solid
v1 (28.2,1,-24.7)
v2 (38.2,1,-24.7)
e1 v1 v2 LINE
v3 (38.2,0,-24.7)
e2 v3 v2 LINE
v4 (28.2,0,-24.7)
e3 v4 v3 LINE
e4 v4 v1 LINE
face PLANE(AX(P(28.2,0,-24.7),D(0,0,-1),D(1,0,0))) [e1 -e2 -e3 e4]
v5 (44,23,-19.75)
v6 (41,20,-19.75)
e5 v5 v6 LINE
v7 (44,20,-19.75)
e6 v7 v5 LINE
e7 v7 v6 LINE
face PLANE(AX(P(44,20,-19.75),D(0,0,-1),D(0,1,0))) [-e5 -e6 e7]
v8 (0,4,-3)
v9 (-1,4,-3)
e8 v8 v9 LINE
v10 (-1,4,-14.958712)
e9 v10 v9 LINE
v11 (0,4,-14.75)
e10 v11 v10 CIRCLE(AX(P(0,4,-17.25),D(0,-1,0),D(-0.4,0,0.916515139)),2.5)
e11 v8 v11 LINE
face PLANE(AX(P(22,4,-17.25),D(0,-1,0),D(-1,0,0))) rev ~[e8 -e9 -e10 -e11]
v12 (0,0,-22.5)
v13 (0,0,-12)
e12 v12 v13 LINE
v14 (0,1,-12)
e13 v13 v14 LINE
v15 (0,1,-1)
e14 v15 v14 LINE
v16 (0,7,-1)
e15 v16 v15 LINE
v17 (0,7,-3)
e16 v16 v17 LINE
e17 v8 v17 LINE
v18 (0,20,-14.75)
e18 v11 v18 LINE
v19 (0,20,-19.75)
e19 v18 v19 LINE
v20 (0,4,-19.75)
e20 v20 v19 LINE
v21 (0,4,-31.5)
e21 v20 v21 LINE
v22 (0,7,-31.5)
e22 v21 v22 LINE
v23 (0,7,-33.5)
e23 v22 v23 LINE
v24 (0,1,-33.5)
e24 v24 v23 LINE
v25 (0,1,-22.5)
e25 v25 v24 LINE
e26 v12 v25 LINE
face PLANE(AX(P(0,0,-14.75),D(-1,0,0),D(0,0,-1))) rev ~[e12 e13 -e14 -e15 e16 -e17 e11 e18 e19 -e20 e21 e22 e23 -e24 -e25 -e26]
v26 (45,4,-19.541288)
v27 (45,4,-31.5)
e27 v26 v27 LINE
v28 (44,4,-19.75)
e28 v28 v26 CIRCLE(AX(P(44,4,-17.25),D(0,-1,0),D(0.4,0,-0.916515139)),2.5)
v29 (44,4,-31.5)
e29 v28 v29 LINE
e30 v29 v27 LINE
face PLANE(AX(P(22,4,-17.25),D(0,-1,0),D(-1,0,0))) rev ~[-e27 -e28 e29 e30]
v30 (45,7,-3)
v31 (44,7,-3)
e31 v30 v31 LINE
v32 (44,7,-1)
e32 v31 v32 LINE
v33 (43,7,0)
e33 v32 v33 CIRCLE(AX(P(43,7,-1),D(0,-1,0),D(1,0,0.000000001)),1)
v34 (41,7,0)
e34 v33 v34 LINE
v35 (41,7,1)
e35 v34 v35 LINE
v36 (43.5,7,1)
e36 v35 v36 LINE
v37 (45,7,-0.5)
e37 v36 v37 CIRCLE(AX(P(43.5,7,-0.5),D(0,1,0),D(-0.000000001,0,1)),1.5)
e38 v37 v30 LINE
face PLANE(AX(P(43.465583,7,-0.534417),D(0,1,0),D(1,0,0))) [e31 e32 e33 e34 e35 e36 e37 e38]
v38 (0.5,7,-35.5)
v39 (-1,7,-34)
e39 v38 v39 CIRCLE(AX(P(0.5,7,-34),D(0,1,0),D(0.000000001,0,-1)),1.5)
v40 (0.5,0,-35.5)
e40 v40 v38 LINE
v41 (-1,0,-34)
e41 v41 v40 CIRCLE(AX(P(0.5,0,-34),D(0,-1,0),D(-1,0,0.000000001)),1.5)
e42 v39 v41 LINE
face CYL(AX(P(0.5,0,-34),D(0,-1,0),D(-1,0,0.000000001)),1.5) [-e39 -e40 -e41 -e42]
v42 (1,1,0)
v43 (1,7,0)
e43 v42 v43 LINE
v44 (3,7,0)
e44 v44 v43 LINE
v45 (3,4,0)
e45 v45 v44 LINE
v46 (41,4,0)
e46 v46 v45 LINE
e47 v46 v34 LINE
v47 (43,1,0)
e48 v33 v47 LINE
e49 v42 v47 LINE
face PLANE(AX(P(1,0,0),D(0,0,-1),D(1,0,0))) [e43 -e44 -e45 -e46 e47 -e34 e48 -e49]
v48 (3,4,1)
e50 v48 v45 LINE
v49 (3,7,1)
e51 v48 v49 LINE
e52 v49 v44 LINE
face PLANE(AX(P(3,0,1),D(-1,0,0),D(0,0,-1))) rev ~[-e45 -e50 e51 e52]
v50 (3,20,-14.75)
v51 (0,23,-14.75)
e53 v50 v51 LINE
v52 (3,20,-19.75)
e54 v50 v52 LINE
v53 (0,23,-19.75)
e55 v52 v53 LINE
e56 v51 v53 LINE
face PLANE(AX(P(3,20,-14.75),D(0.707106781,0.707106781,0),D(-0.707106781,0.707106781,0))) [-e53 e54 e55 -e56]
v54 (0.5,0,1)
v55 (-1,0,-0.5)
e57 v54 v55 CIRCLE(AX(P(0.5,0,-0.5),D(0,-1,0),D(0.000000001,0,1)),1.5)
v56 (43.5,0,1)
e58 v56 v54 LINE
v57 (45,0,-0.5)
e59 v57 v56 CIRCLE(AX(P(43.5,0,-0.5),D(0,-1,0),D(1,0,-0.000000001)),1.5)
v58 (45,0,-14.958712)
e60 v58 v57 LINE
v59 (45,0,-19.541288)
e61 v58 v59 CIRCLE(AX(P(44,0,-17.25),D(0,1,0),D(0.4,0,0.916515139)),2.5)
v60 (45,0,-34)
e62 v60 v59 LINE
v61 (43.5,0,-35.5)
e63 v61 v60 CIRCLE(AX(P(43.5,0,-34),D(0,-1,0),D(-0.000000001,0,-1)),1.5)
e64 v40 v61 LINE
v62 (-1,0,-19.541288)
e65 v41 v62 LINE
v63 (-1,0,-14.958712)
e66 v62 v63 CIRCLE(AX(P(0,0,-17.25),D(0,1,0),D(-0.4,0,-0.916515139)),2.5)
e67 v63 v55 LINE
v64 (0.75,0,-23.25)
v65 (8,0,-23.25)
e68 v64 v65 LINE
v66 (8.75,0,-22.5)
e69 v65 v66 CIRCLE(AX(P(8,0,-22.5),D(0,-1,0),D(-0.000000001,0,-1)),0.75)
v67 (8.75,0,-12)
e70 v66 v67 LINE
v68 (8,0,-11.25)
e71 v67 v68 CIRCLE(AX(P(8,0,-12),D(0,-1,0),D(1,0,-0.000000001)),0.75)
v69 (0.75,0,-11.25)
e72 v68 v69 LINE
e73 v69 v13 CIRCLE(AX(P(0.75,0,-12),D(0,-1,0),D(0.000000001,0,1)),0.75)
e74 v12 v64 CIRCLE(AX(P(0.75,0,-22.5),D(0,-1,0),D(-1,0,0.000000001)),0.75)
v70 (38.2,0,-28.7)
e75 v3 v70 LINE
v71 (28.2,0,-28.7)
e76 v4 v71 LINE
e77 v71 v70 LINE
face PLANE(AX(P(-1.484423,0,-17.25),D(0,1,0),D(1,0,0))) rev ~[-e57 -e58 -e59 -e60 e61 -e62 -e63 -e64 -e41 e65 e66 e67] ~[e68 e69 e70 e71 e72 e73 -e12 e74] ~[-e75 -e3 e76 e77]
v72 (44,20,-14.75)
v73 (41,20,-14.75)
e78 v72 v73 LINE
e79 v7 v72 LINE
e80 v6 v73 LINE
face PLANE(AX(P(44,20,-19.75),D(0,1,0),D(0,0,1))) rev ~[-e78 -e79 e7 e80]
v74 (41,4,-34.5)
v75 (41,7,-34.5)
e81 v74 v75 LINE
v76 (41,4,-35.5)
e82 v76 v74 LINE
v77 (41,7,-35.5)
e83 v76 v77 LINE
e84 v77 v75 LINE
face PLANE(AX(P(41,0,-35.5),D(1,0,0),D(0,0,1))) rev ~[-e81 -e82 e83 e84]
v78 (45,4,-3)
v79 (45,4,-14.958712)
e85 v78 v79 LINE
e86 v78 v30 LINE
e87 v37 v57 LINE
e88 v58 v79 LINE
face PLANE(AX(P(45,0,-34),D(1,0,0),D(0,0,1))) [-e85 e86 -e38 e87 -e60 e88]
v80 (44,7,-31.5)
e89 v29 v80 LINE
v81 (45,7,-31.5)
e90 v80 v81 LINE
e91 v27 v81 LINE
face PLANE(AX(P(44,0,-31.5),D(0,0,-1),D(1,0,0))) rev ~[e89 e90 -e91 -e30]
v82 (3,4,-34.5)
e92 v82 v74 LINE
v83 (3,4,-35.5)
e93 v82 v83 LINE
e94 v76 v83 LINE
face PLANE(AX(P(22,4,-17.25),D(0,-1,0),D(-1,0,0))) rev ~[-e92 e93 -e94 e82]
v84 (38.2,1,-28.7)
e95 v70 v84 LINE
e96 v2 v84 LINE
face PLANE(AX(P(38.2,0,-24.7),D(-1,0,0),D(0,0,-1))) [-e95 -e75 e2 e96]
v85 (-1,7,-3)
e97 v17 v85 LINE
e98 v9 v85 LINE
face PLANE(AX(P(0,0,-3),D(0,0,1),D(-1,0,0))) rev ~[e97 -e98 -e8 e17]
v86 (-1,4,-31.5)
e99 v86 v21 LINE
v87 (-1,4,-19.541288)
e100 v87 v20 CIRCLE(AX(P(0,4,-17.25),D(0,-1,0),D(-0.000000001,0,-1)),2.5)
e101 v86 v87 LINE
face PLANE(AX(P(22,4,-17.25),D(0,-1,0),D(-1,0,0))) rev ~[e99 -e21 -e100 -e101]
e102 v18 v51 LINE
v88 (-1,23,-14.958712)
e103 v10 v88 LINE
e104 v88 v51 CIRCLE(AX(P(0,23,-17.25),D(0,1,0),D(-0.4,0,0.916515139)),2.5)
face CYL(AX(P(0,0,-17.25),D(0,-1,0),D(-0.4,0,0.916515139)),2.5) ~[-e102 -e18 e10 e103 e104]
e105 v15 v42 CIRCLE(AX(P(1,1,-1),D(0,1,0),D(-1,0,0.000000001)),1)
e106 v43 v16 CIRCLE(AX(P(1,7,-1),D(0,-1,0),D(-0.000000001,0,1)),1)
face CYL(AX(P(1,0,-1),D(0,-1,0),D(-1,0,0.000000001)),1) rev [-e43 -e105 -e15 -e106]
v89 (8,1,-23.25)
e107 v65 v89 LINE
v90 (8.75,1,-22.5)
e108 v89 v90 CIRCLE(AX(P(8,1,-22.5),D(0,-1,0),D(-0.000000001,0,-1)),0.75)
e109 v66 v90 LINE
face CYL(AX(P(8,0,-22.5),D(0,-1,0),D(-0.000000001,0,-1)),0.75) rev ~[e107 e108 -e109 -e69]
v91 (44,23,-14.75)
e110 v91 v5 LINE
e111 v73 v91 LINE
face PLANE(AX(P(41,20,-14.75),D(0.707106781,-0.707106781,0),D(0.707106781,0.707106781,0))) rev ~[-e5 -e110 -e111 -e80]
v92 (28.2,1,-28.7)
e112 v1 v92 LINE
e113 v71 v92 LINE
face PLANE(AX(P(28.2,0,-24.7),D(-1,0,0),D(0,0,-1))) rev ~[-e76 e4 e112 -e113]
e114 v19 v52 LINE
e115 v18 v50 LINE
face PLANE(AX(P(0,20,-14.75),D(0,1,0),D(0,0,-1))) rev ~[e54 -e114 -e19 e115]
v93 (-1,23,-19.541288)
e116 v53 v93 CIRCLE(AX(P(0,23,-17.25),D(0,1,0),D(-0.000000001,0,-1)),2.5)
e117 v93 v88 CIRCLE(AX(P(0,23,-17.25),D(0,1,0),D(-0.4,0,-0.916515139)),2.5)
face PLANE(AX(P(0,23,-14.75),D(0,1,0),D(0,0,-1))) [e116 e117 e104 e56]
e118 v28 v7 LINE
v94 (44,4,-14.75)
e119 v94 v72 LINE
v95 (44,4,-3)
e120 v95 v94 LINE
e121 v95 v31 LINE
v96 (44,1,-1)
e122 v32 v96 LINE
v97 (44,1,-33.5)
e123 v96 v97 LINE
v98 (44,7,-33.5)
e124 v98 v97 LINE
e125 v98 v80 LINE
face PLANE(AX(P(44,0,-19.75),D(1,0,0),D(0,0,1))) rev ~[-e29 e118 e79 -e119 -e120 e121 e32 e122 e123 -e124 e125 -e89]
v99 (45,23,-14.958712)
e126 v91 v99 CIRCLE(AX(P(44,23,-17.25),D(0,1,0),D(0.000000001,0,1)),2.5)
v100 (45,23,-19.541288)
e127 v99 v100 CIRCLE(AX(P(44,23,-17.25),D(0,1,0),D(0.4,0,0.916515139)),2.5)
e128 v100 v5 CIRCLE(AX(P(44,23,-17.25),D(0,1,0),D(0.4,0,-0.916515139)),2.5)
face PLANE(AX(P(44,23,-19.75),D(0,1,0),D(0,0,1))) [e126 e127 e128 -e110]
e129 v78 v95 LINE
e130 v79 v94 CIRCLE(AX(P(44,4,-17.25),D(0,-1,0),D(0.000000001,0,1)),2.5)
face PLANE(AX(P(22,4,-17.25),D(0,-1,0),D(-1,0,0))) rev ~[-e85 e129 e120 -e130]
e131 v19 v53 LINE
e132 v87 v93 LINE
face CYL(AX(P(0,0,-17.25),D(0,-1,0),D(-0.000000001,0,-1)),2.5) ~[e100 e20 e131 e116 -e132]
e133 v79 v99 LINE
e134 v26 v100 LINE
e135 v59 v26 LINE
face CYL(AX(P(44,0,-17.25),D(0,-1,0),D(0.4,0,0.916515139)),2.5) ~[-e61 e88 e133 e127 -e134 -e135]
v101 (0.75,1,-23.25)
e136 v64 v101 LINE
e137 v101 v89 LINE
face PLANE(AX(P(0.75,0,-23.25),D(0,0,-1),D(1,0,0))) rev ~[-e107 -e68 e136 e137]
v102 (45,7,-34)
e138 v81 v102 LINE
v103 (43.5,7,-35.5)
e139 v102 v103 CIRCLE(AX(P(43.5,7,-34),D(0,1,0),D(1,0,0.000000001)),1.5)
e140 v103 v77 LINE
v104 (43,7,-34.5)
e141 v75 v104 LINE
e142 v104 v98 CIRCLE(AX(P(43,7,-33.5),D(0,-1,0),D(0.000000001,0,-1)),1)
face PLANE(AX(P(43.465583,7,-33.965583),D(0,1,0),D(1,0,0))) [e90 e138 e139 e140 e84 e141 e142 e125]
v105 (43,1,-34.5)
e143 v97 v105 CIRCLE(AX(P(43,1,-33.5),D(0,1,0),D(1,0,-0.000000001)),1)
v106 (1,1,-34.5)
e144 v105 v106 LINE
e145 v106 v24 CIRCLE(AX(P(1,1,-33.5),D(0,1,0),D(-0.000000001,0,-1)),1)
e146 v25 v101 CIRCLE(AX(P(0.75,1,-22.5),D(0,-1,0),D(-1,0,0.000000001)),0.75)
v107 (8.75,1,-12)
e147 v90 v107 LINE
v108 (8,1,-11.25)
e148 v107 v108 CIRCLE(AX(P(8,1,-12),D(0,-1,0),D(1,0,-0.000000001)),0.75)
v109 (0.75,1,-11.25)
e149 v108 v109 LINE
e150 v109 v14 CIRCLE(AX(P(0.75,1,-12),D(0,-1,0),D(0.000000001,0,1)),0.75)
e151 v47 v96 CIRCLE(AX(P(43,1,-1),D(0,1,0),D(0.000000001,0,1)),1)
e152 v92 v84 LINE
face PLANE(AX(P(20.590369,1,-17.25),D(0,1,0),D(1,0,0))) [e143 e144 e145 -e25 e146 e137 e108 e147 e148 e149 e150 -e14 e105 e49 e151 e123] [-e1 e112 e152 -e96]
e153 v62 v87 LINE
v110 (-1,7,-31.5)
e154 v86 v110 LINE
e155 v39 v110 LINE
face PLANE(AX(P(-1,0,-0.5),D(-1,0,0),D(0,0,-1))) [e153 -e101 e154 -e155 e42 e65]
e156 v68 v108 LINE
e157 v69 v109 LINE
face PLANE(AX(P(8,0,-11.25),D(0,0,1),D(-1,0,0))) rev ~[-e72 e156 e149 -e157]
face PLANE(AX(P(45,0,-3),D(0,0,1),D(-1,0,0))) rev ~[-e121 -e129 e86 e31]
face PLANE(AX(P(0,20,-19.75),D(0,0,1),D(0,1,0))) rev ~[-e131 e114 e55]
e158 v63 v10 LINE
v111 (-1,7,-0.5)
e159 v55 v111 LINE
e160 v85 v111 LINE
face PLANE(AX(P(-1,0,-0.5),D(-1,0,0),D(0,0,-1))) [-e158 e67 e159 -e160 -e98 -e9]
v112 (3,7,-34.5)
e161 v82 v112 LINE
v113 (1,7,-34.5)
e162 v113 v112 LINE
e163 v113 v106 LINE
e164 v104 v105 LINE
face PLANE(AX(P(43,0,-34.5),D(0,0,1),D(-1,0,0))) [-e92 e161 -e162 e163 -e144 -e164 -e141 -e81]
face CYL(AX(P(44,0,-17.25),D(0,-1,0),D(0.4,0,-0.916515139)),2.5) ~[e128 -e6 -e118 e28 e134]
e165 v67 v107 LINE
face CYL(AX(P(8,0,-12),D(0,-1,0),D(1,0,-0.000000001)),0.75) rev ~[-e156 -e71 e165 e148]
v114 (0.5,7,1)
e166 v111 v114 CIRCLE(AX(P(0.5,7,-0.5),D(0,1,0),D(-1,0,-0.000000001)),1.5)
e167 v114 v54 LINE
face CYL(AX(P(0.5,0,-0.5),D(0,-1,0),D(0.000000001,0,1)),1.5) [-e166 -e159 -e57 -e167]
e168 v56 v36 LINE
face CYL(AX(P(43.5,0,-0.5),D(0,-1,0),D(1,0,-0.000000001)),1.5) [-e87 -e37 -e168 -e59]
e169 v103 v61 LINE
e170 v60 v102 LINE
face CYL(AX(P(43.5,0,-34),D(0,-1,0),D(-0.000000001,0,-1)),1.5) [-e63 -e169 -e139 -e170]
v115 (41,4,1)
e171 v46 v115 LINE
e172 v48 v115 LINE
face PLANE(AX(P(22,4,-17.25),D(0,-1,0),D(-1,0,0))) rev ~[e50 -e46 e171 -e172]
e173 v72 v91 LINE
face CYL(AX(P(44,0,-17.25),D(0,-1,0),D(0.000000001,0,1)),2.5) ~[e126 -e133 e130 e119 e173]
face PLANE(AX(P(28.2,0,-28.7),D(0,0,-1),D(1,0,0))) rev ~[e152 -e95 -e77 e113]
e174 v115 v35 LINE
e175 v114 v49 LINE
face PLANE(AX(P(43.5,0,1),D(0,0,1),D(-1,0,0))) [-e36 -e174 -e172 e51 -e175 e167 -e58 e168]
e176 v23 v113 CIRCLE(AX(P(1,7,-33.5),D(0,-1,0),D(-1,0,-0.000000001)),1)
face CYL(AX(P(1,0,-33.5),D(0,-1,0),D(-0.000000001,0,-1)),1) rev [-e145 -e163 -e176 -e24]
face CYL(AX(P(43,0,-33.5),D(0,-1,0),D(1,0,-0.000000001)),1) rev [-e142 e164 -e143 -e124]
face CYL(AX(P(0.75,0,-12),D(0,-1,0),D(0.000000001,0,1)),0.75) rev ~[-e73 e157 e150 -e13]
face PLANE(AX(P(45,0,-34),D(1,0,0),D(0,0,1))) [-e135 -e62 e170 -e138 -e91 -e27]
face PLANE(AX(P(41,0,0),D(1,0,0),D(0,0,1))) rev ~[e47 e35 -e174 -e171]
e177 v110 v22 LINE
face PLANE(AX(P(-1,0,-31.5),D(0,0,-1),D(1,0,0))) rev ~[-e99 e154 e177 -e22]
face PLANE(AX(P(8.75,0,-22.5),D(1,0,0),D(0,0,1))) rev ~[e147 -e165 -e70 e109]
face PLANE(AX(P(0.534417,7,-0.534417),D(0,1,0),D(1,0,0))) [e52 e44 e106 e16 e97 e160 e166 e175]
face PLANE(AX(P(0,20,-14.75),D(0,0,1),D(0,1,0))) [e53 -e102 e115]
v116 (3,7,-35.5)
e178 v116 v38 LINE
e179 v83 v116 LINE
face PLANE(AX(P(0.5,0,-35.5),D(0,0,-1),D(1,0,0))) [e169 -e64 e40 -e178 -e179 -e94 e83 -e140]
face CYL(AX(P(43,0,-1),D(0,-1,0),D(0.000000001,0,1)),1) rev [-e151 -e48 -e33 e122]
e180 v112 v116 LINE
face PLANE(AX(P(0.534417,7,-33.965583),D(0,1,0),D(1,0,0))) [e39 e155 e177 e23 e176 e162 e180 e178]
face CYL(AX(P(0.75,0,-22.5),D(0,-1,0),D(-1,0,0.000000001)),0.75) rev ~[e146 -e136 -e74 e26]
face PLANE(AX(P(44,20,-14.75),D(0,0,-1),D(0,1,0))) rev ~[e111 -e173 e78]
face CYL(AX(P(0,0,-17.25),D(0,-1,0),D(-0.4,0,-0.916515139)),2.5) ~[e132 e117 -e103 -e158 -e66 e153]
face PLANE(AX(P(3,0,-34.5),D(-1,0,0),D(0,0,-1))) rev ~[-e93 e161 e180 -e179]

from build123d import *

# Parameters (mm, degrees)
SKETCH1_W           = 10
SKETCH1_H           = 4
BOSS_EXTRUDE1_DEPTH = 1
SKETCH1_3_W         = 38
SKETCH1_3_H         = 1
BOSS_EXTRUDE2_DEPTH = 4
BOSS_EXTRUDE3_DEPTH = 23
SKETCH2_W           = 5
SKETCH2_H           = 3
BOSS_EXTRUDE4_DEPTH = 3
CUT_EXTRUDE1_DEPTH  = 56.873182297
BOSS_EXTRUDE5_DEPTH = 7
BOSS_EXTRUDE8_DEPTH = 23
SKETCH6_W           = 5
SKETCH6_H           = 3
BOSS_EXTRUDE9_DEPTH = 3
CUT_EXTRUDE3_DEPTH  = 56.873182297


with BuildPart() as part:
    # Sketch1 → Boss-Extrude1 (new body)
    with BuildSketch(Plane(origin=(0, 0, 0), x_dir=(1, 0, 0), z_dir=(0, 1, 0))):
        with BuildLine():
            Line((8.75, 22.5), (8.75, 12))
            ThreePointArc((8.75, 12), (8.530330086, 11.469669914), (8, 11.25))
            Line((8, 11.25), (0.75, 11.25))
            ThreePointArc((0.75, 11.25), (0.219669914, 11.469669914), (0, 12))
            Line((0, 12), (0, 1))
            ThreePointArc((0, 1), (0.292893219, 0.292893219), (1, 0))
            Line((1, 0), (43, 0))
            ThreePointArc((43, 0), (43.707106781, 0.292893219), (44, 1))
            Line((44, 1), (44, 33.5))
            ThreePointArc((44, 33.5), (43.707106781, 34.207106781), (43, 34.5))
            Line((43, 34.5), (1, 34.5))
            ThreePointArc((1, 34.5), (0.292893219, 34.207106781), (0, 33.5))
            Line((0, 33.5), (0, 22.5))
            ThreePointArc((0, 22.5), (0.219669914, 23.030330086), (0.75, 23.25))
            Line((0.75, 23.25), (8, 23.25))
            ThreePointArc((8, 23.25), (8.530330086, 23.030330086), (8.75, 22.5))
        make_face()
        with Locations((33.2, 26.7)):
            Rectangle(SKETCH1_W, SKETCH1_H, mode=Mode.SUBTRACT)
    extrude(amount=BOSS_EXTRUDE1_DEPTH)

    # Sketch1<3> → Boss-Extrude2 (add)
    # profile 1 of 12: a face of its own
    with BuildSketch(Plane(origin=(0, 0, 0), x_dir=(1, 0, 0), z_dir=(0, 1, 0))):
        with BuildLine():
            ThreePointArc((43.5, 35.5), (44.560660172, 35.060660172), (45, 34))
            Line((45, 34), (45, 0.5))
            ThreePointArc((45, 0.5), (44.560660172, -0.560660172), (43.5, -1))
            Line((43.5, -1), (0.5, -1))
            ThreePointArc((0.5, -1), (-0.560660172, -0.560660172), (-1, 0.5))
            Line((-1, 0.5), (-1, 34))
            ThreePointArc((-1, 34), (-0.560660172, 35.060660172), (0.5, 35.5))
            Line((0.5, 35.5), (43.5, 35.5))
        make_face()
        with BuildLine():
            ThreePointArc((1, 34.5), (0.292893219, 34.207106781), (0, 33.5))
            Line((0, 33.5), (0, 24.75))
            Line((0, 24.75), (0, 22.5))
            Line((0, 22.5), (0, 12))
            Line((0, 12), (0, 9.75))
            Line((0, 9.75), (0, 1))
            ThreePointArc((0, 1), (0.292893219, 0.292893219), (1, 0))
            Line((1, 0), (43, 0))
            ThreePointArc((43, 0), (43.707106781, 0.292893219), (44, 1))
            Line((44, 1), (44, 33.5))
            ThreePointArc((44, 33.5), (43.707106781, 34.207106781), (43, 34.5))
            Line((43, 34.5), (1, 34.5))
        make_face(mode=Mode.SUBTRACT)
    # profile 2 of 12: a face of its own
    with BuildSketch(Plane(origin=(0, 0, 0), x_dir=(1, 0, 0), z_dir=(0, 1, 0))):
        with BuildLine():
            Line((3, 0), (1, 0))
            ThreePointArc((1, 0), (0.292893219, 0.292893219), (0, 1))
            Line((0, 1), (0, 3))
            Line((0, 3), (-1, 3))
            Line((-1, 3), (-1, 0.5))
            ThreePointArc((-1, 0.5), (-0.560660172, -0.560660172), (0.5, -1))
            Line((0.5, -1), (3, -1))
            Line((3, -1), (3, 0))
        make_face()
    # profile 3 of 12: a face of its own
    with BuildSketch(Plane(origin=(0, 0, 0), x_dir=(1, 0, 0), z_dir=(0, 1, 0))):
        with Locations((22, -0.5)):
            Rectangle(SKETCH1_3_W, SKETCH1_3_H)
    # profile 4 of 12: a face of its own
    with BuildSketch(Plane(origin=(0, 0, 0), x_dir=(1, 0, 0), z_dir=(0, 1, 0))):
        with BuildLine():
            Line((43, 0), (41, 0))
            Line((41, 0), (41, -1))
            Line((41, -1), (43.5, -1))
            ThreePointArc((43.5, -1), (44.560660172, -0.560660172), (45, 0.5))
            Line((45, 0.5), (45, 3))
            Line((45, 3), (44, 3))
            Line((44, 3), (44, 1))
            ThreePointArc((44, 1), (43.707106781, 0.292893219), (43, 0))
        make_face()
    # profile 5 of 12: a face of its own
    with BuildSketch(Plane(origin=(0, 0, 0), x_dir=(1, 0, 0), z_dir=(0, 1, 0))):
        with BuildLine():
            Line((44, 14.75), (44, 3))
            Line((44, 3), (45, 3))
            Line((45, 3), (45, 14.958712153))
            ThreePointArc((45, 14.958712153), (44.510774109, 14.802734218), (44, 14.75))
        make_face()
    # profile 6 of 12: a face of its own
    with BuildSketch(Plane(origin=(0, 0, 0), x_dir=(1, 0, 0), z_dir=(0, 1, 0))):
        with BuildLine():
            Line((44, 31.5), (44, 19.75))
            ThreePointArc((44, 19.75), (44.510774109, 19.697265782), (45, 19.541287847))
            Line((45, 19.541287847), (45, 31.5))
            Line((45, 31.5), (44, 31.5))
        make_face()
    # profile 7 of 12: a face of its own
    with BuildSketch(Plane(origin=(0, 0, 0), x_dir=(1, 0, 0), z_dir=(0, 1, 0))):
        with BuildLine():
            Line((44, 19.75), (44, 14.75))
            ThreePointArc((44, 14.75), (44.510774109, 14.802734218), (45, 14.958712153))
            Line((45, 14.958712153), (45, 19.541287847))
            ThreePointArc((45, 19.541287847), (44.510774109, 19.697265782), (44, 19.75))
        make_face()
    # profile 8 of 12: a face of its own
    with BuildSketch(Plane(origin=(0, 0, 0), x_dir=(1, 0, 0), z_dir=(0, 1, 0))):
        with BuildLine():
            Line((44, 33.5), (44, 31.5))
            Line((44, 31.5), (45, 31.5))
            Line((45, 31.5), (45, 34))
            ThreePointArc((45, 34), (44.560660172, 35.060660172), (43.5, 35.5))
            Line((43.5, 35.5), (41, 35.5))
            Line((41, 35.5), (41, 34.5))
            Line((41, 34.5), (43, 34.5))
            ThreePointArc((43, 34.5), (43.707106781, 34.207106781), (44, 33.5))
        make_face()
    # profile 9 of 12: a face of its own
    with BuildSketch(Plane(origin=(0, 0, 0), x_dir=(1, 0, 0), z_dir=(0, 1, 0))):
        with Locations((22, 35)):
            Rectangle(SKETCH1_3_W, SKETCH1_3_H)
    # profile 10 of 12: a face of its own
    with BuildSketch(Plane(origin=(0, 0, 0), x_dir=(1, 0, 0), z_dir=(0, 1, 0))):
        with BuildLine():
            Line((-1, 34), (-1, 31.5))
            Line((-1, 31.5), (0, 31.5))
            Line((0, 31.5), (0, 33.5))
            ThreePointArc((0, 33.5), (0.292893219, 34.207106781), (1, 34.5))
            Line((1, 34.5), (3, 34.5))
            Line((3, 34.5), (3, 35.5))
            Line((3, 35.5), (0.5, 35.5))
            ThreePointArc((0.5, 35.5), (-0.560660172, 35.060660172), (-1, 34))
        make_face()
    # profile 11 of 12: a face of its own
    with BuildSketch(Plane(origin=(0, 0, 0), x_dir=(1, 0, 0), z_dir=(0, 1, 0))):
        with BuildLine():
            Line((-1, 3), (0, 3))
            Line((0, 3), (0, 9.75))
            Line((0, 9.75), (0, 12))
            Line((0, 12), (0, 14.75))
            ThreePointArc((0, 14.75), (-0.510774109, 14.802734218), (-1, 14.958712153))
            Line((-1, 14.958712153), (-1, 3))
        make_face()
    # profile 12 of 12: a face of its own
    with BuildSketch(Plane(origin=(0, 0, 0), x_dir=(1, 0, 0), z_dir=(0, 1, 0))):
        with BuildLine():
            Line((-1, 31.5), (-1, 19.541287847))
            ThreePointArc((-1, 19.541287847), (-0.510774109, 19.697265782), (0, 19.75))
            Line((0, 19.75), (0, 22.5))
            Line((0, 22.5), (0, 24.75))
            Line((0, 24.75), (0, 31.5))
            Line((0, 31.5), (-1, 31.5))
        make_face()
    extrude(amount=BOSS_EXTRUDE2_DEPTH)

    # Sketch1<4> → Boss-Extrude3 (add)
    with BuildSketch(Plane(origin=(0, 0, 0), x_dir=(1, 0, 0), z_dir=(0, 1, 0))):
        with BuildLine():
            Line((45, 19.541287847), (45, 14.958712153))
            ThreePointArc((45, 14.958712153), (46.5, 17.25), (45, 19.541287847))
        make_face()
        with BuildLine():
            Line((44, 19.75), (44, 14.75))
            ThreePointArc((44, 14.75), (44.510774109, 14.802734218), (45, 14.958712153))
            Line((45, 14.958712153), (45, 19.541287847))
            ThreePointArc((45, 19.541287847), (44.510774109, 19.697265782), (44, 19.75))
        make_face()
    extrude(amount=BOSS_EXTRUDE3_DEPTH)

    # Sketch2 → Boss-Extrude4 (add)
    with BuildSketch(Plane.ZY.offset(-44)):
        with Locations((-17.25, 21.5)):
            Rectangle(SKETCH2_W, SKETCH2_H)
    extrude(amount=BOSS_EXTRUDE4_DEPTH)

    # Sketch3 → Cut-Extrude1 (cut, through all)
    with BuildSketch(Plane.XY.offset(-14.75)):
        Polygon((41, 20), (44, 23), (41, 23), align=None)
    extrude(amount=-CUT_EXTRUDE1_DEPTH, mode=Mode.SUBTRACT)

    # Sketch1<6> → Boss-Extrude5 (add)
    with BuildSketch(Plane(origin=(0, 0, 0), x_dir=(1, 0, 0), z_dir=(0, 1, 0))):
        with BuildLine():
            Line((-1, 34), (-1, 31.5))
            Line((-1, 31.5), (0, 31.5))
            Line((0, 31.5), (0, 33.5))
            ThreePointArc((0, 33.5), (0.292893219, 34.207106781), (1, 34.5))
            Line((1, 34.5), (3, 34.5))
            Line((3, 34.5), (3, 35.5))
            Line((3, 35.5), (0.5, 35.5))
            ThreePointArc((0.5, 35.5), (-0.560660172, 35.060660172), (-1, 34))
        make_face()
        with BuildLine():
            Line((3, 0), (1, 0))
            ThreePointArc((1, 0), (0.292893219, 0.292893219), (0, 1))
            Line((0, 1), (0, 3))
            Line((0, 3), (-1, 3))
            Line((-1, 3), (-1, 0.5))
            ThreePointArc((-1, 0.5), (-0.560660172, -0.560660172), (0.5, -1))
            Line((0.5, -1), (3, -1))
            Line((3, -1), (3, 0))
        make_face()
        with BuildLine():
            Line((43, 0), (41, 0))
            Line((41, 0), (41, -1))
            Line((41, -1), (43.5, -1))
            ThreePointArc((43.5, -1), (44.560660172, -0.560660172), (45, 0.5))
            Line((45, 0.5), (45, 3))
            Line((45, 3), (44, 3))
            Line((44, 3), (44, 1))
            ThreePointArc((44, 1), (43.707106781, 0.292893219), (43, 0))
        make_face()
        with BuildLine():
            Line((44, 33.5), (44, 31.5))
            Line((44, 31.5), (45, 31.5))
            Line((45, 31.5), (45, 34))
            ThreePointArc((45, 34), (44.560660172, 35.060660172), (43.5, 35.5))
            Line((43.5, 35.5), (41, 35.5))
            Line((41, 35.5), (41, 34.5))
            Line((41, 34.5), (43, 34.5))
            ThreePointArc((43, 34.5), (43.707106781, 34.207106781), (44, 33.5))
        make_face()
    extrude(amount=BOSS_EXTRUDE5_DEPTH)

    # Sketch1<9> → Boss-Extrude8 (add)
    with BuildSketch(Plane(origin=(0, 0, 0), x_dir=(1, 0, 0), z_dir=(0, 1, 0))):
        with BuildLine():
            ThreePointArc((-1, 19.541287847), (-2.5, 17.25), (-1, 14.958712153))
            Line((-1, 14.958712153), (-1, 19.541287847))
        make_face()
        with BuildLine():
            Line((-1, 19.541287847), (-1, 14.958712153))
            ThreePointArc((-1, 14.958712153), (-0.510774109, 14.802734218), (0, 14.75))
            Line((0, 14.75), (0, 19.75))
            ThreePointArc((0, 19.75), (-0.510774109, 19.697265782), (-1, 19.541287847))
        make_face()
    extrude(amount=BOSS_EXTRUDE8_DEPTH)

    # Sketch6 → Boss-Extrude9 (add)
    with BuildSketch(Plane(origin=(0, 0, 0), x_dir=(0, 0, -1), z_dir=(1, 0, 0))):
        with Locations((17.25, 21.5)):
            Rectangle(SKETCH6_W, SKETCH6_H)
    extrude(amount=BOSS_EXTRUDE9_DEPTH)

    # Sketch7 → Cut-Extrude3 (cut, through all)
    with BuildSketch(Plane.XY.offset(-14.75)):
        Polygon((3, 23), (3, 20), (0, 23), align=None)
    extrude(amount=-CUT_EXTRUDE3_DEPTH, mode=Mode.SUBTRACT)


solid = part.part
